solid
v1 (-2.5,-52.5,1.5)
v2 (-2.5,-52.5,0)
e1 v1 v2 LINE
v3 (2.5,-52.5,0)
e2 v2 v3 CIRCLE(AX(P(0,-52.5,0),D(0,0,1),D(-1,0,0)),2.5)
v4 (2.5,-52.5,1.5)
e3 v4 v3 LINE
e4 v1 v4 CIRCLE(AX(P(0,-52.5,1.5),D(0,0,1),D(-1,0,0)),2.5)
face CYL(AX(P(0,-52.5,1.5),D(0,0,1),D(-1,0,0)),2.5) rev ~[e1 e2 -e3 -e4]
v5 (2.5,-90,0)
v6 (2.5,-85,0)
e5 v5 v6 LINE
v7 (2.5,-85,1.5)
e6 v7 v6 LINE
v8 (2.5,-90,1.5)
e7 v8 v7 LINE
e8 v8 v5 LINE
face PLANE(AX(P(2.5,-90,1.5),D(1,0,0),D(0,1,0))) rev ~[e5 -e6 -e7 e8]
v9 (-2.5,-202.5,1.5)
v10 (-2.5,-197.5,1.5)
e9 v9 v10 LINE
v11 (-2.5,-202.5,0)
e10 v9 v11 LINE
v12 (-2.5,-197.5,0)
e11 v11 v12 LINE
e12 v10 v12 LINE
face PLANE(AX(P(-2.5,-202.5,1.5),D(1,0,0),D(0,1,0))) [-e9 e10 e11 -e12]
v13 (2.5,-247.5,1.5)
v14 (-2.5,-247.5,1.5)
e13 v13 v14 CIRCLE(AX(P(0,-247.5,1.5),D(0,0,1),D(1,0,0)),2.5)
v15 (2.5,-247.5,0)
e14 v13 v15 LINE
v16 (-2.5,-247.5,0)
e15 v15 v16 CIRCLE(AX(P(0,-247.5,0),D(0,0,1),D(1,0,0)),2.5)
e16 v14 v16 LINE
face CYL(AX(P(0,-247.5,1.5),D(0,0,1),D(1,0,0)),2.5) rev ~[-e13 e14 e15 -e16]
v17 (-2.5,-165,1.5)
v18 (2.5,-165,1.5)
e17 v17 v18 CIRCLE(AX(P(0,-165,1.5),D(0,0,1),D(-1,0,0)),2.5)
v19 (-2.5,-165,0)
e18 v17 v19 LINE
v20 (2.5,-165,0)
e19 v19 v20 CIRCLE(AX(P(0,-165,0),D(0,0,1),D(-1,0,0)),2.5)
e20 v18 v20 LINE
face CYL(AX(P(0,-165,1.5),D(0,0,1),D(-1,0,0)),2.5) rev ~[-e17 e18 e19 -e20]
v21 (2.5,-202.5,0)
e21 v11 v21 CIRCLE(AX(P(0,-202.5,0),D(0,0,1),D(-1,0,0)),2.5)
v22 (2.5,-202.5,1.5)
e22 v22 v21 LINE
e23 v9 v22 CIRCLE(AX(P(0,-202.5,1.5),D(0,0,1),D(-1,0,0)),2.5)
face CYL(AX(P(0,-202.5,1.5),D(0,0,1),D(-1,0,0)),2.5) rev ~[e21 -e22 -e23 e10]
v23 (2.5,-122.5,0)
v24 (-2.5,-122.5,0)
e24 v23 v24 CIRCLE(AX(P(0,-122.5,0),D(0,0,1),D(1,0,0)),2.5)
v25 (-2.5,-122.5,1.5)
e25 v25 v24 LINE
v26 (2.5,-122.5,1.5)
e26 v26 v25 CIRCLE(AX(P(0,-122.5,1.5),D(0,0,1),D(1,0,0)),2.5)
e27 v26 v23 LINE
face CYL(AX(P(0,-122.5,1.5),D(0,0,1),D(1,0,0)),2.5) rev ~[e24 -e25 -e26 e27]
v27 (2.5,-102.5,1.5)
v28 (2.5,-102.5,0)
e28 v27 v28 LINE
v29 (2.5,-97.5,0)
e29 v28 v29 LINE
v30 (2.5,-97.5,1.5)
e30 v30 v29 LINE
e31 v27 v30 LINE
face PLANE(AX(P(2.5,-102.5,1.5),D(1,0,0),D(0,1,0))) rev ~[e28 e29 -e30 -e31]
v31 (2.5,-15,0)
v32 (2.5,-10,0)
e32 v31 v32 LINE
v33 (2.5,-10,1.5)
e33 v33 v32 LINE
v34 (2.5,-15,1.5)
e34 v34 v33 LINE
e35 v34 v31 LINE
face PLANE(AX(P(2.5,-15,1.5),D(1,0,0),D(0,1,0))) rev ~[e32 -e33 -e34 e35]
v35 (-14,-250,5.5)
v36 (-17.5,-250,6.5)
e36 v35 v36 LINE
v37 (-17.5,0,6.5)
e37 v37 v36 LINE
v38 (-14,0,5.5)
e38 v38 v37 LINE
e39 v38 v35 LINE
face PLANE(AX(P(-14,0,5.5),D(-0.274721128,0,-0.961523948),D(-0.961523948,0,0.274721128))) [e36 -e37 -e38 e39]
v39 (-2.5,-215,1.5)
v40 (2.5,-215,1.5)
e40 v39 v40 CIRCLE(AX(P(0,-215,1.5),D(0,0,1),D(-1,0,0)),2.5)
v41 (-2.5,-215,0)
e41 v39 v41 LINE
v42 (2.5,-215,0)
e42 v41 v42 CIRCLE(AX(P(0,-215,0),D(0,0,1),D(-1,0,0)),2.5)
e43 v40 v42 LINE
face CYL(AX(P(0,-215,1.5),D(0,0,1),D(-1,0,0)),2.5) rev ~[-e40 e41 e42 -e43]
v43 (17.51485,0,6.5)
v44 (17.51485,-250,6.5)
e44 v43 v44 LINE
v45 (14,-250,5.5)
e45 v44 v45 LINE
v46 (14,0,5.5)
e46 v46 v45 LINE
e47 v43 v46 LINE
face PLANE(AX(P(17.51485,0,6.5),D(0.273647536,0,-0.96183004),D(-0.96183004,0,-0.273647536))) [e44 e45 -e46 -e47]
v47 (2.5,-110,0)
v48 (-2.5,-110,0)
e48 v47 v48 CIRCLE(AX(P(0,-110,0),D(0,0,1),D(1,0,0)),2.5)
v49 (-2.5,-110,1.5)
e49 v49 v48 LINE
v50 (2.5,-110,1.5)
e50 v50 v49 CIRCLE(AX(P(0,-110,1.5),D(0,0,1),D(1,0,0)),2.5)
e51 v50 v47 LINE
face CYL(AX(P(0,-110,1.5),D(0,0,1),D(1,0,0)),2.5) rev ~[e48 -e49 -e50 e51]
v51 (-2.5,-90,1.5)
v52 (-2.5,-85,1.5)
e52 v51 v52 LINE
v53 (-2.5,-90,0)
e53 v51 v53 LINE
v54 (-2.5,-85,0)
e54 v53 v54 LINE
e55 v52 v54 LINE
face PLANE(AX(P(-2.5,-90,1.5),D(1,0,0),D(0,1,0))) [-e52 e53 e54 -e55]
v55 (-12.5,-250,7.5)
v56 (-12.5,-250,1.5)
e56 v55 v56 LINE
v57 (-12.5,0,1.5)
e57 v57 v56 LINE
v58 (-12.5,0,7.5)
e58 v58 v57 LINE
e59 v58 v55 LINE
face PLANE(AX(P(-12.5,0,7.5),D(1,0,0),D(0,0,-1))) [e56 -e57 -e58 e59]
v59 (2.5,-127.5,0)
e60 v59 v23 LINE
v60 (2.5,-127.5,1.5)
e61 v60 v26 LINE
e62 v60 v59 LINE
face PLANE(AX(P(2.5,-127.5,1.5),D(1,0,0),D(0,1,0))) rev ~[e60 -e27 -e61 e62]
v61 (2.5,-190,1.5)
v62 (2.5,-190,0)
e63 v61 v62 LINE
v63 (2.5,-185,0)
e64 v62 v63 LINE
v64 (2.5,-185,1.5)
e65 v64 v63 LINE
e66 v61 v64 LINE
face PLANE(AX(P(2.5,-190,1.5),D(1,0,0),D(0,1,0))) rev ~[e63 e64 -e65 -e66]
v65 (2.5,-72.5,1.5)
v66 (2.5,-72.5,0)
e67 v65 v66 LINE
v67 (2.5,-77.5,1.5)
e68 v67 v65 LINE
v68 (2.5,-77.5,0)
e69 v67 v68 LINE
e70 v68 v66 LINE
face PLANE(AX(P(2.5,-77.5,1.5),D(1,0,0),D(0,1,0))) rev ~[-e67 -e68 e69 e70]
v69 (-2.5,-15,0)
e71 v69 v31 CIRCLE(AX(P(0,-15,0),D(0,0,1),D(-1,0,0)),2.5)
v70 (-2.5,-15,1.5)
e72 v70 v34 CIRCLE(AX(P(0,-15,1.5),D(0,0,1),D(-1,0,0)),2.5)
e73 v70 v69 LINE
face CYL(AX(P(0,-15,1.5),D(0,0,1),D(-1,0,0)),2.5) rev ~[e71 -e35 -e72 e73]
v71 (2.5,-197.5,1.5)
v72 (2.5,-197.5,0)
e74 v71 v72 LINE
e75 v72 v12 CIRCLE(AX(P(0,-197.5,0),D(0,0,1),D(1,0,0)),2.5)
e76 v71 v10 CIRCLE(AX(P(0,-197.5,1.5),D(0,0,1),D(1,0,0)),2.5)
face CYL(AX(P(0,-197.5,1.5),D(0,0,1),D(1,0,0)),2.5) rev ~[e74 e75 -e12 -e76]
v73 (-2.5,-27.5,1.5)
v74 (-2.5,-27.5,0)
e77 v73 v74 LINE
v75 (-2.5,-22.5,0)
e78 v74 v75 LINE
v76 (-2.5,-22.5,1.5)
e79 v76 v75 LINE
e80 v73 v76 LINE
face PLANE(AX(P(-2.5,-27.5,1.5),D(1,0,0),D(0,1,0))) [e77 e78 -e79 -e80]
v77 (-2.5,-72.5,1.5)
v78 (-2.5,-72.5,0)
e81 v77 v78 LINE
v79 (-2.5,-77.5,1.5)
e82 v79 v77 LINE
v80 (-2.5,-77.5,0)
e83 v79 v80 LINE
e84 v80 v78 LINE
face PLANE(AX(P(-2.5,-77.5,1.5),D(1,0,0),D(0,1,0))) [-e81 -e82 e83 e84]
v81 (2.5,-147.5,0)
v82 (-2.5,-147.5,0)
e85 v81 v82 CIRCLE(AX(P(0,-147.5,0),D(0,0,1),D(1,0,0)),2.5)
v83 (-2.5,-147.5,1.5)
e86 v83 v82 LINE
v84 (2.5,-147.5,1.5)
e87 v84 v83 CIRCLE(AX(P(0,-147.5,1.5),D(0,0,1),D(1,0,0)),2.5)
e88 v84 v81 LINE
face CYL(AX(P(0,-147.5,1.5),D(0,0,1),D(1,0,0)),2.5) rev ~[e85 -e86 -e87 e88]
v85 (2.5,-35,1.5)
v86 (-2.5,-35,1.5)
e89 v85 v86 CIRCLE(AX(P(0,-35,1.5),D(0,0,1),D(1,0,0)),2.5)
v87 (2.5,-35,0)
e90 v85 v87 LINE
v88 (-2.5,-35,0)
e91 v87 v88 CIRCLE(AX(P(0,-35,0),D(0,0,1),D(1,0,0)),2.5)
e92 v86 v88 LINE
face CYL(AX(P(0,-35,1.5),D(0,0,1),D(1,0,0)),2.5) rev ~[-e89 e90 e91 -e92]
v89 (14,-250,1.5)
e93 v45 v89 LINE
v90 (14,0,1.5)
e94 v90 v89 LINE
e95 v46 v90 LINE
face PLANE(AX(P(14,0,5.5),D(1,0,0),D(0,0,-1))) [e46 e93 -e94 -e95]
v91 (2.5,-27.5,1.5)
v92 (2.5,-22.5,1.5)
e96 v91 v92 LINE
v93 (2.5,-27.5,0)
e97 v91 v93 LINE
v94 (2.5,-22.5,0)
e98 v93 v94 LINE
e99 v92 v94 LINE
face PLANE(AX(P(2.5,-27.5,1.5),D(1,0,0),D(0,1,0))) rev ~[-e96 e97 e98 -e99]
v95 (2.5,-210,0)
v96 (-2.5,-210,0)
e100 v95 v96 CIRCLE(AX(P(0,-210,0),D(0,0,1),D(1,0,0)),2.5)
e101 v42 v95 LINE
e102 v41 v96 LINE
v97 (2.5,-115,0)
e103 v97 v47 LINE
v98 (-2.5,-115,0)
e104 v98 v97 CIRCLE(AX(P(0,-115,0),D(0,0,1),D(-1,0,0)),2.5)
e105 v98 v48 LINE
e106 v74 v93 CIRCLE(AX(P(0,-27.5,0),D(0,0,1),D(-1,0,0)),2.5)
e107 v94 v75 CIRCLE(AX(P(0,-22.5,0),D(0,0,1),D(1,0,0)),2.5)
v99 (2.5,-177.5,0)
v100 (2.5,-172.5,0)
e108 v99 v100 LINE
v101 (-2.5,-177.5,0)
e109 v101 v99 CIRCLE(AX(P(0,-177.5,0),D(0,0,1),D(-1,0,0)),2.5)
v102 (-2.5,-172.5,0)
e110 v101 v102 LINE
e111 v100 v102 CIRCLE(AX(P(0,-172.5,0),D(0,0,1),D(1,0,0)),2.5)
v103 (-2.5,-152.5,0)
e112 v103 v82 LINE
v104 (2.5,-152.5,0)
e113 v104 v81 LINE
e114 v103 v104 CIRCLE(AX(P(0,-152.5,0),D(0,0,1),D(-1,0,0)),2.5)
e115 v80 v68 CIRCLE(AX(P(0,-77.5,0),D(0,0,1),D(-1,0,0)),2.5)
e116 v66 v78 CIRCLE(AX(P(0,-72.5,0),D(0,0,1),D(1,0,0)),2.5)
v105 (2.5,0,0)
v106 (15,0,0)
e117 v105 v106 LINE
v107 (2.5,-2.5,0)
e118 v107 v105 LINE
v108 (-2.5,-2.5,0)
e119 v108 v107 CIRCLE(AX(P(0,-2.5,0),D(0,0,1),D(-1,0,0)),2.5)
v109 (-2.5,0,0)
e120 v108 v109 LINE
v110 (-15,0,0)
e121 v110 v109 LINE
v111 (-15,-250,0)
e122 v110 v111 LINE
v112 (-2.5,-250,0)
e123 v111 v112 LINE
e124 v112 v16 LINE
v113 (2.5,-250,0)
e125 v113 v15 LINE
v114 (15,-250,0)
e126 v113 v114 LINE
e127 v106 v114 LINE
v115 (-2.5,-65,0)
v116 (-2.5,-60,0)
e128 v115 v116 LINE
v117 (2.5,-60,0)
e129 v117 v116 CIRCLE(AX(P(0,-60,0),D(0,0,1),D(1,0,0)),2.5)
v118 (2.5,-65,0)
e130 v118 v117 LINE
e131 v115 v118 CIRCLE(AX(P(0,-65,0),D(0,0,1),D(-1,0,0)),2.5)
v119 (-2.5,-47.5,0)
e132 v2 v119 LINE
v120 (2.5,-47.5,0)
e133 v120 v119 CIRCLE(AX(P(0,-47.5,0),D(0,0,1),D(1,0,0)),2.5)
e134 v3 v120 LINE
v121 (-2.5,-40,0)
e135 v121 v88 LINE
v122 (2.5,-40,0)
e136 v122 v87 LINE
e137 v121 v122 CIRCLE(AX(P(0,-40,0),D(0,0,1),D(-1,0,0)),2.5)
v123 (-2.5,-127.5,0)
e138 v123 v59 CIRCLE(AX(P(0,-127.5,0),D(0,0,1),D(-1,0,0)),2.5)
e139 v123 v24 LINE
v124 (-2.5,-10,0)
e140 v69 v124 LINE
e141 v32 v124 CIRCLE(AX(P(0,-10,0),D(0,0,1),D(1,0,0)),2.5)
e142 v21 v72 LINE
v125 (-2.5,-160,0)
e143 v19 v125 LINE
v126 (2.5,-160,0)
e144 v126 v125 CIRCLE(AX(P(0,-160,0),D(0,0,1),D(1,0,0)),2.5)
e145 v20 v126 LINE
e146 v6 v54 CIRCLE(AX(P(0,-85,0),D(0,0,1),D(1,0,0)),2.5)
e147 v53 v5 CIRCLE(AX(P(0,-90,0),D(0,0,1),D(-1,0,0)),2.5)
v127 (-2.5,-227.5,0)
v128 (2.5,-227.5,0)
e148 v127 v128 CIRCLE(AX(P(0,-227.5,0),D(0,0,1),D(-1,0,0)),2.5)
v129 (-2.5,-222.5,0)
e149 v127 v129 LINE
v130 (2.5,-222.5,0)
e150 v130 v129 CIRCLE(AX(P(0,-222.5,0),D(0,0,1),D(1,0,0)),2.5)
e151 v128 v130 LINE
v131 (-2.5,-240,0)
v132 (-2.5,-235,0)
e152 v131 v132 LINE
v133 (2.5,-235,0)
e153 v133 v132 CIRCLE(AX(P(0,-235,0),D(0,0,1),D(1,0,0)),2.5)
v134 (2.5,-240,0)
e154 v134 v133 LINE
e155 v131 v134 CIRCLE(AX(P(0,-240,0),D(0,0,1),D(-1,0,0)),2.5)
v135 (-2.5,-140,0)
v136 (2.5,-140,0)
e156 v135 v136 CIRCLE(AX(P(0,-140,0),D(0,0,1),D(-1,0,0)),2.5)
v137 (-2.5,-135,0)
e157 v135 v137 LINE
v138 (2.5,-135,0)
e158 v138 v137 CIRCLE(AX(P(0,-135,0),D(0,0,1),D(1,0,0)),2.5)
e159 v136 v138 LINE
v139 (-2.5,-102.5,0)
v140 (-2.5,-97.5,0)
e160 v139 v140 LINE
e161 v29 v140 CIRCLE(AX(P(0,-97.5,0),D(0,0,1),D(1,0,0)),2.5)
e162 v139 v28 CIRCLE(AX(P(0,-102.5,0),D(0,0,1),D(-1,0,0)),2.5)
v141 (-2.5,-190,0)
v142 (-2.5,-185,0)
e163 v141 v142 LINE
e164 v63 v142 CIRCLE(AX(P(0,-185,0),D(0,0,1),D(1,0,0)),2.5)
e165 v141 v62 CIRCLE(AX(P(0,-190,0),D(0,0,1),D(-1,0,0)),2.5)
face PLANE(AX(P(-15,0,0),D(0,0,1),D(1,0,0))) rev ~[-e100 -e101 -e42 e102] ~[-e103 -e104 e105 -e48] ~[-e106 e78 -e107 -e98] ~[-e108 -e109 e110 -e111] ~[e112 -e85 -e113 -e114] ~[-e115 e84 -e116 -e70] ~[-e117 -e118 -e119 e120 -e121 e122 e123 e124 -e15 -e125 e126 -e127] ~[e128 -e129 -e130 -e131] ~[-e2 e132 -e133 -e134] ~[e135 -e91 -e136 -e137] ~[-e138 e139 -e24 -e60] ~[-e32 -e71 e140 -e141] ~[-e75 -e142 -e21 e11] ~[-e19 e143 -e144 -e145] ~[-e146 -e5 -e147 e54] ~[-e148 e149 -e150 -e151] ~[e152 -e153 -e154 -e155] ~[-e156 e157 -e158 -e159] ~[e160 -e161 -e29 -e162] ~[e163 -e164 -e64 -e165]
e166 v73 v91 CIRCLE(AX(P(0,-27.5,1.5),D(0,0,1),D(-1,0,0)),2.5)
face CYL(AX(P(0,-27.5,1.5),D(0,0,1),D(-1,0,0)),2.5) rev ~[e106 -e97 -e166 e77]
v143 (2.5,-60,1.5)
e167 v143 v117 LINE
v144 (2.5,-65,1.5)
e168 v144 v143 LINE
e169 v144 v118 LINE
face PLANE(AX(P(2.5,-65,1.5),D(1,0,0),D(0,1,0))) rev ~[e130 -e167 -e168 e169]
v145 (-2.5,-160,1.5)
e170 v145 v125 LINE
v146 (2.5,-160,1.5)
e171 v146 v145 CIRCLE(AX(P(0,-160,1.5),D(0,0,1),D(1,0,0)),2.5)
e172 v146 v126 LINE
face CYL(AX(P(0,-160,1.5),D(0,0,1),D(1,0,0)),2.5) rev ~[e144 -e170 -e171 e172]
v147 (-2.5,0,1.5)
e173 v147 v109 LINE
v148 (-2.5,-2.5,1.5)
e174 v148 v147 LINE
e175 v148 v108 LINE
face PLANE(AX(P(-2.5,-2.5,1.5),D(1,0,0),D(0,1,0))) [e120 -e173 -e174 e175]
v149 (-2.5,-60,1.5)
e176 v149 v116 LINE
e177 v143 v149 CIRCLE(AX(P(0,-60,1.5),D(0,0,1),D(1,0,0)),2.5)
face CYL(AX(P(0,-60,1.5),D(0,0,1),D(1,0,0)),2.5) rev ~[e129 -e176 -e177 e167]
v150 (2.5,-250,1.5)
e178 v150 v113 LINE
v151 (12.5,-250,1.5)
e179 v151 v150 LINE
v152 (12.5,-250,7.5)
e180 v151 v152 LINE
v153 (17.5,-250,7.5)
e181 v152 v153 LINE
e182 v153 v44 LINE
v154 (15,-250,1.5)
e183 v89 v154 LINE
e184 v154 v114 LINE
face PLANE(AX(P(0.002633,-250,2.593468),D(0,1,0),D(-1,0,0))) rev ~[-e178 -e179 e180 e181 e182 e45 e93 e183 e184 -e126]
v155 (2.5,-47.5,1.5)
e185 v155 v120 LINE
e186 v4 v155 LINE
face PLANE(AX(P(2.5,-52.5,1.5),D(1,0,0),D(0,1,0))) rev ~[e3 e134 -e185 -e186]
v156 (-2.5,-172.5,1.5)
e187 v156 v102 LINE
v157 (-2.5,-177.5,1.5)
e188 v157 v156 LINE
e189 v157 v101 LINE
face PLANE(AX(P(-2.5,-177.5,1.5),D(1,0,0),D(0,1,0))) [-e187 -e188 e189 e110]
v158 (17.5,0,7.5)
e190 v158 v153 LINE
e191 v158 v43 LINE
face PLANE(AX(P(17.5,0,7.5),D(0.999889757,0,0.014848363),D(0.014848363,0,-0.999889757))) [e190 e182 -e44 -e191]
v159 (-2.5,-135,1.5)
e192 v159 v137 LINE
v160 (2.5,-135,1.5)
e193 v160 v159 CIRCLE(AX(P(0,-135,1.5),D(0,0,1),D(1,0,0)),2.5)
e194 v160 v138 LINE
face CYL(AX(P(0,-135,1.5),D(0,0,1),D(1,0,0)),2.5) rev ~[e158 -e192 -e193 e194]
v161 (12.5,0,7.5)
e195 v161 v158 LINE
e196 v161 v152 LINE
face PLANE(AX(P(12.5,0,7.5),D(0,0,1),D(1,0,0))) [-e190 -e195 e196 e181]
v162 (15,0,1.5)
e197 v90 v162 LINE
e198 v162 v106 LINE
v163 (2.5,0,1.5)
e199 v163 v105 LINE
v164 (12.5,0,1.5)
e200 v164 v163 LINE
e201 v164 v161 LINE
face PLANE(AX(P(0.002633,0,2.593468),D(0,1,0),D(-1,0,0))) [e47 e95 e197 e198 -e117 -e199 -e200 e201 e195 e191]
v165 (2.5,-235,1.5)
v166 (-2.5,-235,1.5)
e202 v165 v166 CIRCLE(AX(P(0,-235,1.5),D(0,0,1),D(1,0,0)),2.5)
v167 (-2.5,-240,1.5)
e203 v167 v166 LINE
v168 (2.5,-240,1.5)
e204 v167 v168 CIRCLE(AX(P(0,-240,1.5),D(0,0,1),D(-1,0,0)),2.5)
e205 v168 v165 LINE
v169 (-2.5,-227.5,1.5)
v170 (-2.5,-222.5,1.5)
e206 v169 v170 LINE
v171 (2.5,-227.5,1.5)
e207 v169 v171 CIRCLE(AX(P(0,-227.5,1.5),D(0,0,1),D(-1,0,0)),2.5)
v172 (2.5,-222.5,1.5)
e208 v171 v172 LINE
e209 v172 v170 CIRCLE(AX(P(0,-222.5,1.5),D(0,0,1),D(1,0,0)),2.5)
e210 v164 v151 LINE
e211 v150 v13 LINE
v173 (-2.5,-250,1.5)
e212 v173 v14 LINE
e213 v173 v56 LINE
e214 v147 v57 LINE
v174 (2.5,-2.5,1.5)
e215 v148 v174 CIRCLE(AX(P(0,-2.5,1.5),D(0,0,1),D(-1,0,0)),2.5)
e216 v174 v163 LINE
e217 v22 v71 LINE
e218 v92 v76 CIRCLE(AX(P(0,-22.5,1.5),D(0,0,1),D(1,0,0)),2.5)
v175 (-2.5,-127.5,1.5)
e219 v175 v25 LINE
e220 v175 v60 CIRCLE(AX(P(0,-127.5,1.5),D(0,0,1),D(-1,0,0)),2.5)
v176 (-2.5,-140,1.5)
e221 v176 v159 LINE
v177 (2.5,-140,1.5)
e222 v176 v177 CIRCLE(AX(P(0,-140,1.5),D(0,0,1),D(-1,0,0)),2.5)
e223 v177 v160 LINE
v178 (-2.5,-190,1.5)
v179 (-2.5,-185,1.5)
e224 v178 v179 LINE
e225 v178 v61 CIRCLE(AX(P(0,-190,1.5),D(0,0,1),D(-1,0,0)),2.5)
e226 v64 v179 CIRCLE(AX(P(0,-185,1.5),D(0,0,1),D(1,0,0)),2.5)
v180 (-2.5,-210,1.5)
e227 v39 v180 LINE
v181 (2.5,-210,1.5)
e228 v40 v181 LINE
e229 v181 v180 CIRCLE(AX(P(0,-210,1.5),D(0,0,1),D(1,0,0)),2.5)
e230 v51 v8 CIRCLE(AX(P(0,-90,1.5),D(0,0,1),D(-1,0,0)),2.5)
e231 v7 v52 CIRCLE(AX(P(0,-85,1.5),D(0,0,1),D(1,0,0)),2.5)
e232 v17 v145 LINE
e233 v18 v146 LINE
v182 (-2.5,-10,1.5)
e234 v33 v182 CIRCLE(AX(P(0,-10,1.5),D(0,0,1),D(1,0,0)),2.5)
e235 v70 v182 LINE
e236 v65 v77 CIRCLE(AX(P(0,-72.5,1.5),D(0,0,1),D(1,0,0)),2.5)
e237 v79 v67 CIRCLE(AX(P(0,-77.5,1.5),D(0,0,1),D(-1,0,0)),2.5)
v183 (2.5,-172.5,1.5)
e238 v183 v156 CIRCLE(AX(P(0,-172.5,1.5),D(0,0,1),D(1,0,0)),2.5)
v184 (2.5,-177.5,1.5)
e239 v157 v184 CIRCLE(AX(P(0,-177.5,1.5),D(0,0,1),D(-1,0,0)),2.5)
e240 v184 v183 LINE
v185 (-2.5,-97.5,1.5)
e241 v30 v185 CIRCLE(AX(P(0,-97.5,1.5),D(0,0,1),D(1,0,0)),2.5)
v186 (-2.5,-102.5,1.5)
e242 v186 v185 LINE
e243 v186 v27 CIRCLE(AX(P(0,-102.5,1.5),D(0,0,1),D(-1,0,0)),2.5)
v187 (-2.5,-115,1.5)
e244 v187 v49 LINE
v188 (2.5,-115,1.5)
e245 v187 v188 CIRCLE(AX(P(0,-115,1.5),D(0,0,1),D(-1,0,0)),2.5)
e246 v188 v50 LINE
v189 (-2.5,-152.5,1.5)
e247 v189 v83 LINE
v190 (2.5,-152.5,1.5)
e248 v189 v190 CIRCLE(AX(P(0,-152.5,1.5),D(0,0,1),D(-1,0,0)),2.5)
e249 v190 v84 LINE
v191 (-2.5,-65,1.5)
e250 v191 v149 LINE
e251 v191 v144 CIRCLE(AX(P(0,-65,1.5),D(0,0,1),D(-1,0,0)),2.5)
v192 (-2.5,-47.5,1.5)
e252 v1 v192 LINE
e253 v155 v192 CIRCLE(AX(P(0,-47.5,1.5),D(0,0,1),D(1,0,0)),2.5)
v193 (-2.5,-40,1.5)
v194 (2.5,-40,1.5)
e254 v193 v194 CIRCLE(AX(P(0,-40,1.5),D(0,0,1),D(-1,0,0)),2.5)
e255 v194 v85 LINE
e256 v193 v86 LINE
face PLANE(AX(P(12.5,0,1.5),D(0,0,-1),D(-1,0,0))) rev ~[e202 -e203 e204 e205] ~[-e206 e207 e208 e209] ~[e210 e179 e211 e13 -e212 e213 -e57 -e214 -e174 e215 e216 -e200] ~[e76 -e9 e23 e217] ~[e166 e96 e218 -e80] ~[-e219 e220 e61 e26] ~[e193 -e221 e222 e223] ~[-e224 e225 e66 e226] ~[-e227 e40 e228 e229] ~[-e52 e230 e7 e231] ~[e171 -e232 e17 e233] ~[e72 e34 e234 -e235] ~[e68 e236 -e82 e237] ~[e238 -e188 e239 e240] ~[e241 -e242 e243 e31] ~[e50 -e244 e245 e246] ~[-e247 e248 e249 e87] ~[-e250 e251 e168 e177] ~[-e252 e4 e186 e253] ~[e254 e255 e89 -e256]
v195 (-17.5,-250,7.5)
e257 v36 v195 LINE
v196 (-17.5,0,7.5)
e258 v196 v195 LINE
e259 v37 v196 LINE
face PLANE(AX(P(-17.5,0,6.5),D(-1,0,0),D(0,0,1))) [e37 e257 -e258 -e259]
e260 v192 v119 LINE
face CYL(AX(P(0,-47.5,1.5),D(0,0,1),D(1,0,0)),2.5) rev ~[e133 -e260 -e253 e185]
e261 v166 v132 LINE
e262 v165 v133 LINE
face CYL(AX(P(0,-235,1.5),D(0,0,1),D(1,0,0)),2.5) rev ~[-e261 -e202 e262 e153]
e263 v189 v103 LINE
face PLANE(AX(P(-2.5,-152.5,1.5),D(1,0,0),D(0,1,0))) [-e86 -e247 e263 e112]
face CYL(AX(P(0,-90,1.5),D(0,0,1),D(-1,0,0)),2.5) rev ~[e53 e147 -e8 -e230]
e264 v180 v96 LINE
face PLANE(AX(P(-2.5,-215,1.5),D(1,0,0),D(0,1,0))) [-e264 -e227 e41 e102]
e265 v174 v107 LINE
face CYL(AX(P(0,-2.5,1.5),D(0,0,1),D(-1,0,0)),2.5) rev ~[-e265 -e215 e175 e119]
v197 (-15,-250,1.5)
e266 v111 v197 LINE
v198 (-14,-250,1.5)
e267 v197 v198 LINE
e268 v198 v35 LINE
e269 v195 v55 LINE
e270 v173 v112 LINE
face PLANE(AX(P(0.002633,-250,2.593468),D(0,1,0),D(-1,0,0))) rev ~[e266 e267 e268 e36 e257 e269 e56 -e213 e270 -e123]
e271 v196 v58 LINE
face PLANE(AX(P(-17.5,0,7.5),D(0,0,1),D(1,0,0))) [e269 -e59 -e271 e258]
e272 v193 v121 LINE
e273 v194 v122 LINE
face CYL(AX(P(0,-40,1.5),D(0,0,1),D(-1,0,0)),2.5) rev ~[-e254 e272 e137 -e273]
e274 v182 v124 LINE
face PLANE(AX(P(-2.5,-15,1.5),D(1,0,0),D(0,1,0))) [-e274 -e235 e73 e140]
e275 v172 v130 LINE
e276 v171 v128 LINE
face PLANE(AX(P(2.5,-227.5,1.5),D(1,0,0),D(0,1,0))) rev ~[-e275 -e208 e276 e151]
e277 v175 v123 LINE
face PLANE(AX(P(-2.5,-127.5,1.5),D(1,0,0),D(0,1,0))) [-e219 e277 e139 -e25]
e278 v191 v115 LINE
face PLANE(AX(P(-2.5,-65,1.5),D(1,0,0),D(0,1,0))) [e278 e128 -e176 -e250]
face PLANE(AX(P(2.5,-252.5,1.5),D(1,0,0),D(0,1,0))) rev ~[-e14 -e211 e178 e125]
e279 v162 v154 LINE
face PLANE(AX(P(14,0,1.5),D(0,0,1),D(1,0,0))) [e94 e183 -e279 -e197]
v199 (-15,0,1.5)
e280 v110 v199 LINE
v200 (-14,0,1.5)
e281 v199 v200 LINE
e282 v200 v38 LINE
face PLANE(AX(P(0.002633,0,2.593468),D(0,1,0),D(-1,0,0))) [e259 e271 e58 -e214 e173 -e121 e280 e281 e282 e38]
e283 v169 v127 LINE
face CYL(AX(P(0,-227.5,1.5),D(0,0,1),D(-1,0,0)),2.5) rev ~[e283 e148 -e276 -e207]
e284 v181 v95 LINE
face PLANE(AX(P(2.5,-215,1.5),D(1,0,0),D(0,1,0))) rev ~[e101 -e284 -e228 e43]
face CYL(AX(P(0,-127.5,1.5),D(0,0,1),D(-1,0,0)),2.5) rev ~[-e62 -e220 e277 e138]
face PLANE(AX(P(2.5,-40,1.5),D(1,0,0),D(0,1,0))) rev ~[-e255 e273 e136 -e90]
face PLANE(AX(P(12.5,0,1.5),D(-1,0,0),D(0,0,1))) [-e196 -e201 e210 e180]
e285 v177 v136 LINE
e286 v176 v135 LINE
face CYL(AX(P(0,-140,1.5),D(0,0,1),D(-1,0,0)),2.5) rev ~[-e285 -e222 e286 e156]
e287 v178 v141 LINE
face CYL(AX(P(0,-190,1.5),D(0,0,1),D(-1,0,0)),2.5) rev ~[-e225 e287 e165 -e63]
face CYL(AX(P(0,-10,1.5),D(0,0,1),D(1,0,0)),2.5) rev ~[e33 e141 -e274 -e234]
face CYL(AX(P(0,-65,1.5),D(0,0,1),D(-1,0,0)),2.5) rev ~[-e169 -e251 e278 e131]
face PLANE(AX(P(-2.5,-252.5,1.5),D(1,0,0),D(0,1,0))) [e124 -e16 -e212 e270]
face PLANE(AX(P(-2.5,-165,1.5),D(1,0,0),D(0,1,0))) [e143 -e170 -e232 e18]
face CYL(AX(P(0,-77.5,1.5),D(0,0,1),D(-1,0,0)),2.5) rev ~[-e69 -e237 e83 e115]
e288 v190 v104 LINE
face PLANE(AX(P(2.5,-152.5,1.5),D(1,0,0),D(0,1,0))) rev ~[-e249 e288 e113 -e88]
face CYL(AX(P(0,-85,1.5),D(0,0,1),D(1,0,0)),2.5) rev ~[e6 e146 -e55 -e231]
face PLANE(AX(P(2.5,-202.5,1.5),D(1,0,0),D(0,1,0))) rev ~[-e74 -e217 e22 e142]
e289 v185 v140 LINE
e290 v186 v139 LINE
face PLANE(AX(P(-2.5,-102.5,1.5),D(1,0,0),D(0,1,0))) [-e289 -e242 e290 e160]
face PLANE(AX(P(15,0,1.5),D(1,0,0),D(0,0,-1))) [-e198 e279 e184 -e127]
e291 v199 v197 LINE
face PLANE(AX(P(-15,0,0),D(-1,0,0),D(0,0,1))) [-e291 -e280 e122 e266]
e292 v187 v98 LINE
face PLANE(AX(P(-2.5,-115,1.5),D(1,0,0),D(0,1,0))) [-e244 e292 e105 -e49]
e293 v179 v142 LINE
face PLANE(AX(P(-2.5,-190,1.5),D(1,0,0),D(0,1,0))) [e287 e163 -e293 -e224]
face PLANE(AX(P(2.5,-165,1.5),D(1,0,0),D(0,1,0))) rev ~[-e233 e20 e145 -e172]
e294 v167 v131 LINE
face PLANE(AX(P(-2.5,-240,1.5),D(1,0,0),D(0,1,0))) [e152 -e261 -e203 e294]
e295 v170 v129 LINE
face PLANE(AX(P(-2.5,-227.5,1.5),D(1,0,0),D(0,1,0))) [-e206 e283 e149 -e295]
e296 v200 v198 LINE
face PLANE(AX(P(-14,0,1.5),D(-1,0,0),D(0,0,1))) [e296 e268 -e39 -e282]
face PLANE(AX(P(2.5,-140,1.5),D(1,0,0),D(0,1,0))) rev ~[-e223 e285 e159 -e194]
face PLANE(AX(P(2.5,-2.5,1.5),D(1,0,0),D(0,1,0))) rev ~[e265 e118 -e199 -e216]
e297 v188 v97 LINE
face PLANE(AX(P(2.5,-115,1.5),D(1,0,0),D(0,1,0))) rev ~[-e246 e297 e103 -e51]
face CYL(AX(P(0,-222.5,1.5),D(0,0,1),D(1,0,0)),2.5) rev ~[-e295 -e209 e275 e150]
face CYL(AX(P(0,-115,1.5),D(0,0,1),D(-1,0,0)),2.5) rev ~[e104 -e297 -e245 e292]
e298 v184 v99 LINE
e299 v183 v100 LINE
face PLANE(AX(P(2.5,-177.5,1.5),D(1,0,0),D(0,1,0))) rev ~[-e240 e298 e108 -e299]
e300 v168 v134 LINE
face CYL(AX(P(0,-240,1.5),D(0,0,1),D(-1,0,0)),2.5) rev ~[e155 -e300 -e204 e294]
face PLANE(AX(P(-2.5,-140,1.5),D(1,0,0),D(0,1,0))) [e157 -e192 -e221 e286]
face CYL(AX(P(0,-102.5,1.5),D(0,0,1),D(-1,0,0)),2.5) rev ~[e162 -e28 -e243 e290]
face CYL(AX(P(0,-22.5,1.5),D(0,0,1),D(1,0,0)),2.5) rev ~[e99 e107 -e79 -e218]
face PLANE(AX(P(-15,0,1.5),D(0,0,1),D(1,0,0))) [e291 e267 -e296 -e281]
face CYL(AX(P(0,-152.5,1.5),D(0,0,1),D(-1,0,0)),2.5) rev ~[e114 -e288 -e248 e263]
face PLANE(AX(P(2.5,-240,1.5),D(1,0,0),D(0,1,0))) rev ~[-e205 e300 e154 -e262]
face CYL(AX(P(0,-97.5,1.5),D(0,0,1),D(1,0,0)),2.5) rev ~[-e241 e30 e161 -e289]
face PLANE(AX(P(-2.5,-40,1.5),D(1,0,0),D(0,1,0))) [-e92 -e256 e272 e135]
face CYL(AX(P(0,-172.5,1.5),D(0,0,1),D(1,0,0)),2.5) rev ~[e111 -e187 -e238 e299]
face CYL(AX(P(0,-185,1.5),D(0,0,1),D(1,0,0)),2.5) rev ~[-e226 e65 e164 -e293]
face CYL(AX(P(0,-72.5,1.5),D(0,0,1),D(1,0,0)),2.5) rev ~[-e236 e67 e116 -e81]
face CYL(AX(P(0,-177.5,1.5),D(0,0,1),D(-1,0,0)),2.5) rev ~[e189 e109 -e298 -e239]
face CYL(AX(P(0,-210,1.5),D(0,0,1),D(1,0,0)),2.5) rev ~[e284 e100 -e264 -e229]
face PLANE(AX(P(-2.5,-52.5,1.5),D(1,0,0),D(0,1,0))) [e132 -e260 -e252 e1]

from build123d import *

# Parameters (mm, degrees)
PAD_DEPTH       = 250
POCKET_DEPTH    = 2
POCKET001_DEPTH = 3


with BuildPart() as part:
    # Sketch → Pad (new body)
    with BuildSketch(Plane.XZ):
        Polygon((0, 0), (-15, 0), (-15, 1.5), (-14, 1.5), (-14, 5.5), (-17.5, 6.5), (-17.5, 7.5), (-12.5, 7.5), (-12.5, 1.5), (0, 1.5), (12.5, 1.5), (12.5, 7.5), (17.5, 7.5), (17.51485, 6.5), (14, 5.5), (14, 1.5), (15, 1.5), (15, 0), align=None)
    extrude(amount=PAD_DEPTH)

    # Sketch001 (on Face10 of Pad) → Pocket (cut)
    with BuildSketch(Plane(origin=(0, 0, 1.5), x_dir=(-1, 0, 0), z_dir=(0, 0, 1))):
        with BuildLine():
            ThreePointArc((2.5, 2.5), (0, 5), (-2.5, 2.5))
            Line((-2.5, 2.5), (-2.5, -2.5))
            ThreePointArc((-2.5, -2.5), (0, -5), (2.5, -2.5))
            Line((2.5, 2.5), (2.5, -2.5))
        make_face()
        with BuildLine():
            ThreePointArc((2.5, 15), (0, 17.5), (-2.5, 15))
            Line((-2.5, 15), (-2.5, 10))
            ThreePointArc((-2.5, 10), (0, 7.5), (2.5, 10))
            Line((2.5, 15), (2.5, 10))
        make_face()
        with BuildLine():
            ThreePointArc((2.5, 27.5), (0, 30), (-2.5, 27.5))
            Line((-2.5, 27.5), (-2.5, 22.5))
            ThreePointArc((-2.5, 22.5), (0, 20), (2.5, 22.5))
            Line((2.5, 27.5), (2.5, 22.5))
        make_face()
        with BuildLine():
            ThreePointArc((2.5, 40), (0, 42.5), (-2.5, 40))
            Line((-2.5, 40), (-2.5, 35))
            ThreePointArc((-2.5, 35), (0, 32.5), (2.5, 35))
            Line((2.5, 40), (2.5, 35))
        make_face()
        with BuildLine():
            ThreePointArc((2.5, 52.5), (0, 55), (-2.5, 52.5))
            Line((-2.5, 52.5), (-2.5, 47.5))
            ThreePointArc((-2.5, 47.5), (0, 45), (2.5, 47.5))
            Line((2.5, 52.5), (2.5, 47.5))
        make_face()
        with BuildLine():
            ThreePointArc((2.5, 65), (0, 67.5), (-2.5, 65))
            Line((-2.5, 65), (-2.5, 60))
            ThreePointArc((-2.5, 60), (0, 57.5), (2.5, 60))
            Line((2.5, 65), (2.5, 60))
        make_face()
        with BuildLine():
            ThreePointArc((2.5, 77.5), (0, 80), (-2.5, 77.5))
            Line((-2.5, 77.5), (-2.5, 72.5))
            ThreePointArc((-2.5, 72.5), (0, 70), (2.5, 72.5))
            Line((2.5, 77.5), (2.5, 72.5))
        make_face()
        with BuildLine():
            ThreePointArc((2.5, 90), (0, 92.5), (-2.5, 90))
            Line((-2.5, 90), (-2.5, 85))
            ThreePointArc((-2.5, 85), (0, 82.5), (2.5, 85))
            Line((2.5, 90), (2.5, 85))
        make_face()
        with BuildLine():
            ThreePointArc((2.5, 102.5), (0, 105), (-2.5, 102.5))
            Line((-2.5, 102.5), (-2.5, 97.5))
            ThreePointArc((-2.5, 97.5), (0, 95), (2.5, 97.5))
            Line((2.5, 102.5), (2.5, 97.5))
        make_face()
        with BuildLine():
            ThreePointArc((2.5, 115), (0, 117.5), (-2.5, 115))
            Line((-2.5, 115), (-2.5, 110))
            ThreePointArc((-2.5, 110), (0, 107.5), (2.5, 110))
            Line((2.5, 115), (2.5, 110))
        make_face()
        with BuildLine():
            ThreePointArc((2.5, 127.5), (0, 130), (-2.5, 127.5))
            Line((-2.5, 127.5), (-2.5, 122.5))
            ThreePointArc((-2.5, 122.5), (0, 120), (2.5, 122.5))
            Line((2.5, 127.5), (2.5, 122.5))
        make_face()
        with BuildLine():
            ThreePointArc((2.5, 140), (0, 142.5), (-2.5, 140))
            Line((-2.5, 140), (-2.5, 135))
            ThreePointArc((-2.5, 135), (0, 132.5), (2.5, 135))
            Line((2.5, 140), (2.5, 135))
        make_face()
        with BuildLine():
            ThreePointArc((2.5, 152.5), (0, 155), (-2.5, 152.5))
            Line((-2.5, 152.5), (-2.5, 147.5))
            ThreePointArc((-2.5, 147.5), (0, 145), (2.5, 147.5))
            Line((2.5, 152.5), (2.5, 147.5))
        make_face()
        with BuildLine():
            ThreePointArc((2.5, 165), (0, 167.5), (-2.5, 165))
            Line((-2.5, 165), (-2.5, 160))
            ThreePointArc((-2.5, 160), (0, 157.5), (2.5, 160))
            Line((2.5, 165), (2.5, 160))
        make_face()
        with BuildLine():
            ThreePointArc((2.5, 177.5), (0, 180), (-2.5, 177.5))
            Line((-2.5, 177.5), (-2.5, 172.5))
            ThreePointArc((-2.5, 172.5), (0, 170), (2.5, 172.5))
            Line((2.5, 177.5), (2.5, 172.5))
        make_face()
        with BuildLine():
            ThreePointArc((2.5, 190), (0, 192.5), (-2.5, 190))
            Line((-2.5, 190), (-2.5, 185))
            ThreePointArc((-2.5, 185), (0, 182.5), (2.5, 185))
            Line((2.5, 190), (2.5, 185))
        make_face()
        with BuildLine():
            ThreePointArc((2.5, 202.5), (0, 205), (-2.5, 202.5))
            Line((-2.5, 202.5), (-2.5, 197.5))
            ThreePointArc((-2.5, 197.5), (0, 195), (2.5, 197.5))
            Line((2.5, 202.5), (2.5, 197.5))
        make_face()
        with BuildLine():
            ThreePointArc((2.5, 215), (0, 217.5), (-2.5, 215))
            Line((-2.5, 215), (-2.5, 210))
            ThreePointArc((-2.5, 210), (0, 207.5), (2.5, 210))
            Line((2.5, 215), (2.5, 210))
        make_face()
        with BuildLine():
            ThreePointArc((2.5, 227.5), (0, 230), (-2.5, 227.5))
            Line((-2.5, 227.5), (-2.5, 222.5))
            ThreePointArc((-2.5, 222.5), (0, 220), (2.5, 222.5))
            Line((2.5, 227.5), (2.5, 222.5))
        make_face()
        with BuildLine():
            ThreePointArc((2.5, 240), (0, 242.5), (-2.5, 240))
            Line((-2.5, 240), (-2.5, 235))
            ThreePointArc((-2.5, 235), (0, 232.5), (2.5, 235))
            Line((2.5, 240), (2.5, 235))
        make_face()
        with BuildLine():
            ThreePointArc((2.5, 252.5), (0, 255), (-2.5, 252.5))
            Line((-2.5, 252.5), (-2.5, 247.5))
            ThreePointArc((-2.5, 247.5), (0, 245), (2.5, 247.5))
            Line((2.5, 252.5), (2.5, 247.5))
        make_face()
        with BuildLine():
            ThreePointArc((2.5, 265), (0, 267.5), (-2.5, 265))
            Line((-2.5, 265), (-2.5, 260))
            ThreePointArc((-2.5, 260), (0, 257.5), (2.5, 260))
            Line((2.5, 265), (2.5, 260))
        make_face()
        with BuildLine():
            ThreePointArc((2.5, 277.5), (0, 280), (-2.5, 277.5))
            Line((-2.5, 277.5), (-2.5, 272.5))
            ThreePointArc((-2.5, 272.5), (0, 270), (2.5, 272.5))
            Line((2.5, 277.5), (2.5, 272.5))
        make_face()
        with BuildLine():
            ThreePointArc((-2.5, 285), (0, 282.5), (2.5, 285))
            Line((2.5, 285), (2.5, 290))
            ThreePointArc((2.5, 290), (0, 292.5), (-2.5, 290))
            Line((-2.5, 285), (-2.5, 290))
        make_face()
    extrude(amount=-POCKET_DEPTH, mode=Mode.SUBTRACT)

    # Sketch001 (on Face10 of Pad) → Pocket001 (cut)
    with BuildSketch(Plane(origin=(0, 0, 1.5), x_dir=(-1, 0, 0), z_dir=(0, 0, 1))):
        with BuildLine():
            ThreePointArc((2.5, 2.5), (0, 5), (-2.5, 2.5))
            Line((-2.5, 2.5), (-2.5, -2.5))
            ThreePointArc((-2.5, -2.5), (0, -5), (2.5, -2.5))
            Line((2.5, 2.5), (2.5, -2.5))
        make_face()
        with BuildLine():
            ThreePointArc((2.5, 15), (0, 17.5), (-2.5, 15))
            Line((-2.5, 15), (-2.5, 10))
            ThreePointArc((-2.5, 10), (0, 7.5), (2.5, 10))
            Line((2.5, 15), (2.5, 10))
        make_face()
        with BuildLine():
            ThreePointArc((2.5, 27.5), (0, 30), (-2.5, 27.5))
            Line((-2.5, 27.5), (-2.5, 22.5))
            ThreePointArc((-2.5, 22.5), (0, 20), (2.5, 22.5))
            Line((2.5, 27.5), (2.5, 22.5))
        make_face()
        with BuildLine():
            ThreePointArc((2.5, 40), (0, 42.5), (-2.5, 40))
            Line((-2.5, 40), (-2.5, 35))
            ThreePointArc((-2.5, 35), (0, 32.5), (2.5, 35))
            Line((2.5, 40), (2.5, 35))
        make_face()
        with BuildLine():
            ThreePointArc((2.5, 52.5), (0, 55), (-2.5, 52.5))
            Line((-2.5, 52.5), (-2.5, 47.5))
            ThreePointArc((-2.5, 47.5), (0, 45), (2.5, 47.5))
            Line((2.5, 52.5), (2.5, 47.5))
        make_face()
        with BuildLine():
            ThreePointArc((2.5, 65), (0, 67.5), (-2.5, 65))
            Line((-2.5, 65), (-2.5, 60))
            ThreePointArc((-2.5, 60), (0, 57.5), (2.5, 60))
            Line((2.5, 65), (2.5, 60))
        make_face()
        with BuildLine():
            ThreePointArc((2.5, 77.5), (0, 80), (-2.5, 77.5))
            Line((-2.5, 77.5), (-2.5, 72.5))
            ThreePointArc((-2.5, 72.5), (0, 70), (2.5, 72.5))
            Line((2.5, 77.5), (2.5, 72.5))
        make_face()
        with BuildLine():
            ThreePointArc((2.5, 90), (0, 92.5), (-2.5, 90))
            Line((-2.5, 90), (-2.5, 85))
            ThreePointArc((-2.5, 85), (0, 82.5), (2.5, 85))
            Line((2.5, 90), (2.5, 85))
        make_face()
        with BuildLine():
            ThreePointArc((2.5, 102.5), (0, 105), (-2.5, 102.5))
            Line((-2.5, 102.5), (-2.5, 97.5))
            ThreePointArc((-2.5, 97.5), (0, 95), (2.5, 97.5))
            Line((2.5, 102.5), (2.5, 97.5))
        make_face()
        with BuildLine():
            ThreePointArc((2.5, 115), (0, 117.5), (-2.5, 115))
            Line((-2.5, 115), (-2.5, 110))
            ThreePointArc((-2.5, 110), (0, 107.5), (2.5, 110))
            Line((2.5, 115), (2.5, 110))
        make_face()
        with BuildLine():
            ThreePointArc((2.5, 127.5), (0, 130), (-2.5, 127.5))
            Line((-2.5, 127.5), (-2.5, 122.5))
            ThreePointArc((-2.5, 122.5), (0, 120), (2.5, 122.5))
            Line((2.5, 127.5), (2.5, 122.5))
        make_face()
        with BuildLine():
            ThreePointArc((2.5, 140), (0, 142.5), (-2.5, 140))
            Line((-2.5, 140), (-2.5, 135))
            ThreePointArc((-2.5, 135), (0, 132.5), (2.5, 135))
            Line((2.5, 140), (2.5, 135))
        make_face()
        with BuildLine():
            ThreePointArc((2.5, 152.5), (0, 155), (-2.5, 152.5))
            Line((-2.5, 152.5), (-2.5, 147.5))
            ThreePointArc((-2.5, 147.5), (0, 145), (2.5, 147.5))
            Line((2.5, 152.5), (2.5, 147.5))
        make_face()
        with BuildLine():
            ThreePointArc((2.5, 165), (0, 167.5), (-2.5, 165))
            Line((-2.5, 165), (-2.5, 160))
            ThreePointArc((-2.5, 160), (0, 157.5), (2.5, 160))
            Line((2.5, 165), (2.5, 160))
        make_face()
        with BuildLine():
            ThreePointArc((2.5, 177.5), (0, 180), (-2.5, 177.5))
            Line((-2.5, 177.5), (-2.5, 172.5))
            ThreePointArc((-2.5, 172.5), (0, 170), (2.5, 172.5))
            Line((2.5, 177.5), (2.5, 172.5))
        make_face()
        with BuildLine():
            ThreePointArc((2.5, 190), (0, 192.5), (-2.5, 190))
            Line((-2.5, 190), (-2.5, 185))
            ThreePointArc((-2.5, 185), (0, 182.5), (2.5, 185))
            Line((2.5, 190), (2.5, 185))
        make_face()
        with BuildLine():
            ThreePointArc((2.5, 202.5), (0, 205), (-2.5, 202.5))
            Line((-2.5, 202.5), (-2.5, 197.5))
            ThreePointArc((-2.5, 197.5), (0, 195), (2.5, 197.5))
            Line((2.5, 202.5), (2.5, 197.5))
        make_face()
        with BuildLine():
            ThreePointArc((2.5, 215), (0, 217.5), (-2.5, 215))
            Line((-2.5, 215), (-2.5, 210))
            ThreePointArc((-2.5, 210), (0, 207.5), (2.5, 210))
            Line((2.5, 215), (2.5, 210))
        make_face()
        with BuildLine():
            ThreePointArc((2.5, 227.5), (0, 230), (-2.5, 227.5))
            Line((-2.5, 227.5), (-2.5, 222.5))
            ThreePointArc((-2.5, 222.5), (0, 220), (2.5, 222.5))
            Line((2.5, 227.5), (2.5, 222.5))
        make_face()
        with BuildLine():
            ThreePointArc((2.5, 240), (0, 242.5), (-2.5, 240))
            Line((-2.5, 240), (-2.5, 235))
            ThreePointArc((-2.5, 235), (0, 232.5), (2.5, 235))
            Line((2.5, 240), (2.5, 235))
        make_face()
        with BuildLine():
            ThreePointArc((2.5, 252.5), (0, 255), (-2.5, 252.5))
            Line((-2.5, 252.5), (-2.5, 247.5))
            ThreePointArc((-2.5, 247.5), (0, 245), (2.5, 247.5))
            Line((2.5, 252.5), (2.5, 247.5))
        make_face()
        with BuildLine():
            ThreePointArc((2.5, 265), (0, 267.5), (-2.5, 265))
            Line((-2.5, 265), (-2.5, 260))
            ThreePointArc((-2.5, 260), (0, 257.5), (2.5, 260))
            Line((2.5, 265), (2.5, 260))
        make_face()
        with BuildLine():
            ThreePointArc((2.5, 277.5), (0, 280), (-2.5, 277.5))
            Line((-2.5, 277.5), (-2.5, 272.5))
            ThreePointArc((-2.5, 272.5), (0, 270), (2.5, 272.5))
            Line((2.5, 277.5), (2.5, 272.5))
        make_face()
        with BuildLine():
            ThreePointArc((-2.5, 285), (0, 282.5), (2.5, 285))
            Line((2.5, 285), (2.5, 290))
            ThreePointArc((2.5, 290), (0, 292.5), (-2.5, 290))
            Line((-2.5, 285), (-2.5, 290))
        make_face()
    extrude(amount=-POCKET001_DEPTH, mode=Mode.SUBTRACT)


solid = part.part
